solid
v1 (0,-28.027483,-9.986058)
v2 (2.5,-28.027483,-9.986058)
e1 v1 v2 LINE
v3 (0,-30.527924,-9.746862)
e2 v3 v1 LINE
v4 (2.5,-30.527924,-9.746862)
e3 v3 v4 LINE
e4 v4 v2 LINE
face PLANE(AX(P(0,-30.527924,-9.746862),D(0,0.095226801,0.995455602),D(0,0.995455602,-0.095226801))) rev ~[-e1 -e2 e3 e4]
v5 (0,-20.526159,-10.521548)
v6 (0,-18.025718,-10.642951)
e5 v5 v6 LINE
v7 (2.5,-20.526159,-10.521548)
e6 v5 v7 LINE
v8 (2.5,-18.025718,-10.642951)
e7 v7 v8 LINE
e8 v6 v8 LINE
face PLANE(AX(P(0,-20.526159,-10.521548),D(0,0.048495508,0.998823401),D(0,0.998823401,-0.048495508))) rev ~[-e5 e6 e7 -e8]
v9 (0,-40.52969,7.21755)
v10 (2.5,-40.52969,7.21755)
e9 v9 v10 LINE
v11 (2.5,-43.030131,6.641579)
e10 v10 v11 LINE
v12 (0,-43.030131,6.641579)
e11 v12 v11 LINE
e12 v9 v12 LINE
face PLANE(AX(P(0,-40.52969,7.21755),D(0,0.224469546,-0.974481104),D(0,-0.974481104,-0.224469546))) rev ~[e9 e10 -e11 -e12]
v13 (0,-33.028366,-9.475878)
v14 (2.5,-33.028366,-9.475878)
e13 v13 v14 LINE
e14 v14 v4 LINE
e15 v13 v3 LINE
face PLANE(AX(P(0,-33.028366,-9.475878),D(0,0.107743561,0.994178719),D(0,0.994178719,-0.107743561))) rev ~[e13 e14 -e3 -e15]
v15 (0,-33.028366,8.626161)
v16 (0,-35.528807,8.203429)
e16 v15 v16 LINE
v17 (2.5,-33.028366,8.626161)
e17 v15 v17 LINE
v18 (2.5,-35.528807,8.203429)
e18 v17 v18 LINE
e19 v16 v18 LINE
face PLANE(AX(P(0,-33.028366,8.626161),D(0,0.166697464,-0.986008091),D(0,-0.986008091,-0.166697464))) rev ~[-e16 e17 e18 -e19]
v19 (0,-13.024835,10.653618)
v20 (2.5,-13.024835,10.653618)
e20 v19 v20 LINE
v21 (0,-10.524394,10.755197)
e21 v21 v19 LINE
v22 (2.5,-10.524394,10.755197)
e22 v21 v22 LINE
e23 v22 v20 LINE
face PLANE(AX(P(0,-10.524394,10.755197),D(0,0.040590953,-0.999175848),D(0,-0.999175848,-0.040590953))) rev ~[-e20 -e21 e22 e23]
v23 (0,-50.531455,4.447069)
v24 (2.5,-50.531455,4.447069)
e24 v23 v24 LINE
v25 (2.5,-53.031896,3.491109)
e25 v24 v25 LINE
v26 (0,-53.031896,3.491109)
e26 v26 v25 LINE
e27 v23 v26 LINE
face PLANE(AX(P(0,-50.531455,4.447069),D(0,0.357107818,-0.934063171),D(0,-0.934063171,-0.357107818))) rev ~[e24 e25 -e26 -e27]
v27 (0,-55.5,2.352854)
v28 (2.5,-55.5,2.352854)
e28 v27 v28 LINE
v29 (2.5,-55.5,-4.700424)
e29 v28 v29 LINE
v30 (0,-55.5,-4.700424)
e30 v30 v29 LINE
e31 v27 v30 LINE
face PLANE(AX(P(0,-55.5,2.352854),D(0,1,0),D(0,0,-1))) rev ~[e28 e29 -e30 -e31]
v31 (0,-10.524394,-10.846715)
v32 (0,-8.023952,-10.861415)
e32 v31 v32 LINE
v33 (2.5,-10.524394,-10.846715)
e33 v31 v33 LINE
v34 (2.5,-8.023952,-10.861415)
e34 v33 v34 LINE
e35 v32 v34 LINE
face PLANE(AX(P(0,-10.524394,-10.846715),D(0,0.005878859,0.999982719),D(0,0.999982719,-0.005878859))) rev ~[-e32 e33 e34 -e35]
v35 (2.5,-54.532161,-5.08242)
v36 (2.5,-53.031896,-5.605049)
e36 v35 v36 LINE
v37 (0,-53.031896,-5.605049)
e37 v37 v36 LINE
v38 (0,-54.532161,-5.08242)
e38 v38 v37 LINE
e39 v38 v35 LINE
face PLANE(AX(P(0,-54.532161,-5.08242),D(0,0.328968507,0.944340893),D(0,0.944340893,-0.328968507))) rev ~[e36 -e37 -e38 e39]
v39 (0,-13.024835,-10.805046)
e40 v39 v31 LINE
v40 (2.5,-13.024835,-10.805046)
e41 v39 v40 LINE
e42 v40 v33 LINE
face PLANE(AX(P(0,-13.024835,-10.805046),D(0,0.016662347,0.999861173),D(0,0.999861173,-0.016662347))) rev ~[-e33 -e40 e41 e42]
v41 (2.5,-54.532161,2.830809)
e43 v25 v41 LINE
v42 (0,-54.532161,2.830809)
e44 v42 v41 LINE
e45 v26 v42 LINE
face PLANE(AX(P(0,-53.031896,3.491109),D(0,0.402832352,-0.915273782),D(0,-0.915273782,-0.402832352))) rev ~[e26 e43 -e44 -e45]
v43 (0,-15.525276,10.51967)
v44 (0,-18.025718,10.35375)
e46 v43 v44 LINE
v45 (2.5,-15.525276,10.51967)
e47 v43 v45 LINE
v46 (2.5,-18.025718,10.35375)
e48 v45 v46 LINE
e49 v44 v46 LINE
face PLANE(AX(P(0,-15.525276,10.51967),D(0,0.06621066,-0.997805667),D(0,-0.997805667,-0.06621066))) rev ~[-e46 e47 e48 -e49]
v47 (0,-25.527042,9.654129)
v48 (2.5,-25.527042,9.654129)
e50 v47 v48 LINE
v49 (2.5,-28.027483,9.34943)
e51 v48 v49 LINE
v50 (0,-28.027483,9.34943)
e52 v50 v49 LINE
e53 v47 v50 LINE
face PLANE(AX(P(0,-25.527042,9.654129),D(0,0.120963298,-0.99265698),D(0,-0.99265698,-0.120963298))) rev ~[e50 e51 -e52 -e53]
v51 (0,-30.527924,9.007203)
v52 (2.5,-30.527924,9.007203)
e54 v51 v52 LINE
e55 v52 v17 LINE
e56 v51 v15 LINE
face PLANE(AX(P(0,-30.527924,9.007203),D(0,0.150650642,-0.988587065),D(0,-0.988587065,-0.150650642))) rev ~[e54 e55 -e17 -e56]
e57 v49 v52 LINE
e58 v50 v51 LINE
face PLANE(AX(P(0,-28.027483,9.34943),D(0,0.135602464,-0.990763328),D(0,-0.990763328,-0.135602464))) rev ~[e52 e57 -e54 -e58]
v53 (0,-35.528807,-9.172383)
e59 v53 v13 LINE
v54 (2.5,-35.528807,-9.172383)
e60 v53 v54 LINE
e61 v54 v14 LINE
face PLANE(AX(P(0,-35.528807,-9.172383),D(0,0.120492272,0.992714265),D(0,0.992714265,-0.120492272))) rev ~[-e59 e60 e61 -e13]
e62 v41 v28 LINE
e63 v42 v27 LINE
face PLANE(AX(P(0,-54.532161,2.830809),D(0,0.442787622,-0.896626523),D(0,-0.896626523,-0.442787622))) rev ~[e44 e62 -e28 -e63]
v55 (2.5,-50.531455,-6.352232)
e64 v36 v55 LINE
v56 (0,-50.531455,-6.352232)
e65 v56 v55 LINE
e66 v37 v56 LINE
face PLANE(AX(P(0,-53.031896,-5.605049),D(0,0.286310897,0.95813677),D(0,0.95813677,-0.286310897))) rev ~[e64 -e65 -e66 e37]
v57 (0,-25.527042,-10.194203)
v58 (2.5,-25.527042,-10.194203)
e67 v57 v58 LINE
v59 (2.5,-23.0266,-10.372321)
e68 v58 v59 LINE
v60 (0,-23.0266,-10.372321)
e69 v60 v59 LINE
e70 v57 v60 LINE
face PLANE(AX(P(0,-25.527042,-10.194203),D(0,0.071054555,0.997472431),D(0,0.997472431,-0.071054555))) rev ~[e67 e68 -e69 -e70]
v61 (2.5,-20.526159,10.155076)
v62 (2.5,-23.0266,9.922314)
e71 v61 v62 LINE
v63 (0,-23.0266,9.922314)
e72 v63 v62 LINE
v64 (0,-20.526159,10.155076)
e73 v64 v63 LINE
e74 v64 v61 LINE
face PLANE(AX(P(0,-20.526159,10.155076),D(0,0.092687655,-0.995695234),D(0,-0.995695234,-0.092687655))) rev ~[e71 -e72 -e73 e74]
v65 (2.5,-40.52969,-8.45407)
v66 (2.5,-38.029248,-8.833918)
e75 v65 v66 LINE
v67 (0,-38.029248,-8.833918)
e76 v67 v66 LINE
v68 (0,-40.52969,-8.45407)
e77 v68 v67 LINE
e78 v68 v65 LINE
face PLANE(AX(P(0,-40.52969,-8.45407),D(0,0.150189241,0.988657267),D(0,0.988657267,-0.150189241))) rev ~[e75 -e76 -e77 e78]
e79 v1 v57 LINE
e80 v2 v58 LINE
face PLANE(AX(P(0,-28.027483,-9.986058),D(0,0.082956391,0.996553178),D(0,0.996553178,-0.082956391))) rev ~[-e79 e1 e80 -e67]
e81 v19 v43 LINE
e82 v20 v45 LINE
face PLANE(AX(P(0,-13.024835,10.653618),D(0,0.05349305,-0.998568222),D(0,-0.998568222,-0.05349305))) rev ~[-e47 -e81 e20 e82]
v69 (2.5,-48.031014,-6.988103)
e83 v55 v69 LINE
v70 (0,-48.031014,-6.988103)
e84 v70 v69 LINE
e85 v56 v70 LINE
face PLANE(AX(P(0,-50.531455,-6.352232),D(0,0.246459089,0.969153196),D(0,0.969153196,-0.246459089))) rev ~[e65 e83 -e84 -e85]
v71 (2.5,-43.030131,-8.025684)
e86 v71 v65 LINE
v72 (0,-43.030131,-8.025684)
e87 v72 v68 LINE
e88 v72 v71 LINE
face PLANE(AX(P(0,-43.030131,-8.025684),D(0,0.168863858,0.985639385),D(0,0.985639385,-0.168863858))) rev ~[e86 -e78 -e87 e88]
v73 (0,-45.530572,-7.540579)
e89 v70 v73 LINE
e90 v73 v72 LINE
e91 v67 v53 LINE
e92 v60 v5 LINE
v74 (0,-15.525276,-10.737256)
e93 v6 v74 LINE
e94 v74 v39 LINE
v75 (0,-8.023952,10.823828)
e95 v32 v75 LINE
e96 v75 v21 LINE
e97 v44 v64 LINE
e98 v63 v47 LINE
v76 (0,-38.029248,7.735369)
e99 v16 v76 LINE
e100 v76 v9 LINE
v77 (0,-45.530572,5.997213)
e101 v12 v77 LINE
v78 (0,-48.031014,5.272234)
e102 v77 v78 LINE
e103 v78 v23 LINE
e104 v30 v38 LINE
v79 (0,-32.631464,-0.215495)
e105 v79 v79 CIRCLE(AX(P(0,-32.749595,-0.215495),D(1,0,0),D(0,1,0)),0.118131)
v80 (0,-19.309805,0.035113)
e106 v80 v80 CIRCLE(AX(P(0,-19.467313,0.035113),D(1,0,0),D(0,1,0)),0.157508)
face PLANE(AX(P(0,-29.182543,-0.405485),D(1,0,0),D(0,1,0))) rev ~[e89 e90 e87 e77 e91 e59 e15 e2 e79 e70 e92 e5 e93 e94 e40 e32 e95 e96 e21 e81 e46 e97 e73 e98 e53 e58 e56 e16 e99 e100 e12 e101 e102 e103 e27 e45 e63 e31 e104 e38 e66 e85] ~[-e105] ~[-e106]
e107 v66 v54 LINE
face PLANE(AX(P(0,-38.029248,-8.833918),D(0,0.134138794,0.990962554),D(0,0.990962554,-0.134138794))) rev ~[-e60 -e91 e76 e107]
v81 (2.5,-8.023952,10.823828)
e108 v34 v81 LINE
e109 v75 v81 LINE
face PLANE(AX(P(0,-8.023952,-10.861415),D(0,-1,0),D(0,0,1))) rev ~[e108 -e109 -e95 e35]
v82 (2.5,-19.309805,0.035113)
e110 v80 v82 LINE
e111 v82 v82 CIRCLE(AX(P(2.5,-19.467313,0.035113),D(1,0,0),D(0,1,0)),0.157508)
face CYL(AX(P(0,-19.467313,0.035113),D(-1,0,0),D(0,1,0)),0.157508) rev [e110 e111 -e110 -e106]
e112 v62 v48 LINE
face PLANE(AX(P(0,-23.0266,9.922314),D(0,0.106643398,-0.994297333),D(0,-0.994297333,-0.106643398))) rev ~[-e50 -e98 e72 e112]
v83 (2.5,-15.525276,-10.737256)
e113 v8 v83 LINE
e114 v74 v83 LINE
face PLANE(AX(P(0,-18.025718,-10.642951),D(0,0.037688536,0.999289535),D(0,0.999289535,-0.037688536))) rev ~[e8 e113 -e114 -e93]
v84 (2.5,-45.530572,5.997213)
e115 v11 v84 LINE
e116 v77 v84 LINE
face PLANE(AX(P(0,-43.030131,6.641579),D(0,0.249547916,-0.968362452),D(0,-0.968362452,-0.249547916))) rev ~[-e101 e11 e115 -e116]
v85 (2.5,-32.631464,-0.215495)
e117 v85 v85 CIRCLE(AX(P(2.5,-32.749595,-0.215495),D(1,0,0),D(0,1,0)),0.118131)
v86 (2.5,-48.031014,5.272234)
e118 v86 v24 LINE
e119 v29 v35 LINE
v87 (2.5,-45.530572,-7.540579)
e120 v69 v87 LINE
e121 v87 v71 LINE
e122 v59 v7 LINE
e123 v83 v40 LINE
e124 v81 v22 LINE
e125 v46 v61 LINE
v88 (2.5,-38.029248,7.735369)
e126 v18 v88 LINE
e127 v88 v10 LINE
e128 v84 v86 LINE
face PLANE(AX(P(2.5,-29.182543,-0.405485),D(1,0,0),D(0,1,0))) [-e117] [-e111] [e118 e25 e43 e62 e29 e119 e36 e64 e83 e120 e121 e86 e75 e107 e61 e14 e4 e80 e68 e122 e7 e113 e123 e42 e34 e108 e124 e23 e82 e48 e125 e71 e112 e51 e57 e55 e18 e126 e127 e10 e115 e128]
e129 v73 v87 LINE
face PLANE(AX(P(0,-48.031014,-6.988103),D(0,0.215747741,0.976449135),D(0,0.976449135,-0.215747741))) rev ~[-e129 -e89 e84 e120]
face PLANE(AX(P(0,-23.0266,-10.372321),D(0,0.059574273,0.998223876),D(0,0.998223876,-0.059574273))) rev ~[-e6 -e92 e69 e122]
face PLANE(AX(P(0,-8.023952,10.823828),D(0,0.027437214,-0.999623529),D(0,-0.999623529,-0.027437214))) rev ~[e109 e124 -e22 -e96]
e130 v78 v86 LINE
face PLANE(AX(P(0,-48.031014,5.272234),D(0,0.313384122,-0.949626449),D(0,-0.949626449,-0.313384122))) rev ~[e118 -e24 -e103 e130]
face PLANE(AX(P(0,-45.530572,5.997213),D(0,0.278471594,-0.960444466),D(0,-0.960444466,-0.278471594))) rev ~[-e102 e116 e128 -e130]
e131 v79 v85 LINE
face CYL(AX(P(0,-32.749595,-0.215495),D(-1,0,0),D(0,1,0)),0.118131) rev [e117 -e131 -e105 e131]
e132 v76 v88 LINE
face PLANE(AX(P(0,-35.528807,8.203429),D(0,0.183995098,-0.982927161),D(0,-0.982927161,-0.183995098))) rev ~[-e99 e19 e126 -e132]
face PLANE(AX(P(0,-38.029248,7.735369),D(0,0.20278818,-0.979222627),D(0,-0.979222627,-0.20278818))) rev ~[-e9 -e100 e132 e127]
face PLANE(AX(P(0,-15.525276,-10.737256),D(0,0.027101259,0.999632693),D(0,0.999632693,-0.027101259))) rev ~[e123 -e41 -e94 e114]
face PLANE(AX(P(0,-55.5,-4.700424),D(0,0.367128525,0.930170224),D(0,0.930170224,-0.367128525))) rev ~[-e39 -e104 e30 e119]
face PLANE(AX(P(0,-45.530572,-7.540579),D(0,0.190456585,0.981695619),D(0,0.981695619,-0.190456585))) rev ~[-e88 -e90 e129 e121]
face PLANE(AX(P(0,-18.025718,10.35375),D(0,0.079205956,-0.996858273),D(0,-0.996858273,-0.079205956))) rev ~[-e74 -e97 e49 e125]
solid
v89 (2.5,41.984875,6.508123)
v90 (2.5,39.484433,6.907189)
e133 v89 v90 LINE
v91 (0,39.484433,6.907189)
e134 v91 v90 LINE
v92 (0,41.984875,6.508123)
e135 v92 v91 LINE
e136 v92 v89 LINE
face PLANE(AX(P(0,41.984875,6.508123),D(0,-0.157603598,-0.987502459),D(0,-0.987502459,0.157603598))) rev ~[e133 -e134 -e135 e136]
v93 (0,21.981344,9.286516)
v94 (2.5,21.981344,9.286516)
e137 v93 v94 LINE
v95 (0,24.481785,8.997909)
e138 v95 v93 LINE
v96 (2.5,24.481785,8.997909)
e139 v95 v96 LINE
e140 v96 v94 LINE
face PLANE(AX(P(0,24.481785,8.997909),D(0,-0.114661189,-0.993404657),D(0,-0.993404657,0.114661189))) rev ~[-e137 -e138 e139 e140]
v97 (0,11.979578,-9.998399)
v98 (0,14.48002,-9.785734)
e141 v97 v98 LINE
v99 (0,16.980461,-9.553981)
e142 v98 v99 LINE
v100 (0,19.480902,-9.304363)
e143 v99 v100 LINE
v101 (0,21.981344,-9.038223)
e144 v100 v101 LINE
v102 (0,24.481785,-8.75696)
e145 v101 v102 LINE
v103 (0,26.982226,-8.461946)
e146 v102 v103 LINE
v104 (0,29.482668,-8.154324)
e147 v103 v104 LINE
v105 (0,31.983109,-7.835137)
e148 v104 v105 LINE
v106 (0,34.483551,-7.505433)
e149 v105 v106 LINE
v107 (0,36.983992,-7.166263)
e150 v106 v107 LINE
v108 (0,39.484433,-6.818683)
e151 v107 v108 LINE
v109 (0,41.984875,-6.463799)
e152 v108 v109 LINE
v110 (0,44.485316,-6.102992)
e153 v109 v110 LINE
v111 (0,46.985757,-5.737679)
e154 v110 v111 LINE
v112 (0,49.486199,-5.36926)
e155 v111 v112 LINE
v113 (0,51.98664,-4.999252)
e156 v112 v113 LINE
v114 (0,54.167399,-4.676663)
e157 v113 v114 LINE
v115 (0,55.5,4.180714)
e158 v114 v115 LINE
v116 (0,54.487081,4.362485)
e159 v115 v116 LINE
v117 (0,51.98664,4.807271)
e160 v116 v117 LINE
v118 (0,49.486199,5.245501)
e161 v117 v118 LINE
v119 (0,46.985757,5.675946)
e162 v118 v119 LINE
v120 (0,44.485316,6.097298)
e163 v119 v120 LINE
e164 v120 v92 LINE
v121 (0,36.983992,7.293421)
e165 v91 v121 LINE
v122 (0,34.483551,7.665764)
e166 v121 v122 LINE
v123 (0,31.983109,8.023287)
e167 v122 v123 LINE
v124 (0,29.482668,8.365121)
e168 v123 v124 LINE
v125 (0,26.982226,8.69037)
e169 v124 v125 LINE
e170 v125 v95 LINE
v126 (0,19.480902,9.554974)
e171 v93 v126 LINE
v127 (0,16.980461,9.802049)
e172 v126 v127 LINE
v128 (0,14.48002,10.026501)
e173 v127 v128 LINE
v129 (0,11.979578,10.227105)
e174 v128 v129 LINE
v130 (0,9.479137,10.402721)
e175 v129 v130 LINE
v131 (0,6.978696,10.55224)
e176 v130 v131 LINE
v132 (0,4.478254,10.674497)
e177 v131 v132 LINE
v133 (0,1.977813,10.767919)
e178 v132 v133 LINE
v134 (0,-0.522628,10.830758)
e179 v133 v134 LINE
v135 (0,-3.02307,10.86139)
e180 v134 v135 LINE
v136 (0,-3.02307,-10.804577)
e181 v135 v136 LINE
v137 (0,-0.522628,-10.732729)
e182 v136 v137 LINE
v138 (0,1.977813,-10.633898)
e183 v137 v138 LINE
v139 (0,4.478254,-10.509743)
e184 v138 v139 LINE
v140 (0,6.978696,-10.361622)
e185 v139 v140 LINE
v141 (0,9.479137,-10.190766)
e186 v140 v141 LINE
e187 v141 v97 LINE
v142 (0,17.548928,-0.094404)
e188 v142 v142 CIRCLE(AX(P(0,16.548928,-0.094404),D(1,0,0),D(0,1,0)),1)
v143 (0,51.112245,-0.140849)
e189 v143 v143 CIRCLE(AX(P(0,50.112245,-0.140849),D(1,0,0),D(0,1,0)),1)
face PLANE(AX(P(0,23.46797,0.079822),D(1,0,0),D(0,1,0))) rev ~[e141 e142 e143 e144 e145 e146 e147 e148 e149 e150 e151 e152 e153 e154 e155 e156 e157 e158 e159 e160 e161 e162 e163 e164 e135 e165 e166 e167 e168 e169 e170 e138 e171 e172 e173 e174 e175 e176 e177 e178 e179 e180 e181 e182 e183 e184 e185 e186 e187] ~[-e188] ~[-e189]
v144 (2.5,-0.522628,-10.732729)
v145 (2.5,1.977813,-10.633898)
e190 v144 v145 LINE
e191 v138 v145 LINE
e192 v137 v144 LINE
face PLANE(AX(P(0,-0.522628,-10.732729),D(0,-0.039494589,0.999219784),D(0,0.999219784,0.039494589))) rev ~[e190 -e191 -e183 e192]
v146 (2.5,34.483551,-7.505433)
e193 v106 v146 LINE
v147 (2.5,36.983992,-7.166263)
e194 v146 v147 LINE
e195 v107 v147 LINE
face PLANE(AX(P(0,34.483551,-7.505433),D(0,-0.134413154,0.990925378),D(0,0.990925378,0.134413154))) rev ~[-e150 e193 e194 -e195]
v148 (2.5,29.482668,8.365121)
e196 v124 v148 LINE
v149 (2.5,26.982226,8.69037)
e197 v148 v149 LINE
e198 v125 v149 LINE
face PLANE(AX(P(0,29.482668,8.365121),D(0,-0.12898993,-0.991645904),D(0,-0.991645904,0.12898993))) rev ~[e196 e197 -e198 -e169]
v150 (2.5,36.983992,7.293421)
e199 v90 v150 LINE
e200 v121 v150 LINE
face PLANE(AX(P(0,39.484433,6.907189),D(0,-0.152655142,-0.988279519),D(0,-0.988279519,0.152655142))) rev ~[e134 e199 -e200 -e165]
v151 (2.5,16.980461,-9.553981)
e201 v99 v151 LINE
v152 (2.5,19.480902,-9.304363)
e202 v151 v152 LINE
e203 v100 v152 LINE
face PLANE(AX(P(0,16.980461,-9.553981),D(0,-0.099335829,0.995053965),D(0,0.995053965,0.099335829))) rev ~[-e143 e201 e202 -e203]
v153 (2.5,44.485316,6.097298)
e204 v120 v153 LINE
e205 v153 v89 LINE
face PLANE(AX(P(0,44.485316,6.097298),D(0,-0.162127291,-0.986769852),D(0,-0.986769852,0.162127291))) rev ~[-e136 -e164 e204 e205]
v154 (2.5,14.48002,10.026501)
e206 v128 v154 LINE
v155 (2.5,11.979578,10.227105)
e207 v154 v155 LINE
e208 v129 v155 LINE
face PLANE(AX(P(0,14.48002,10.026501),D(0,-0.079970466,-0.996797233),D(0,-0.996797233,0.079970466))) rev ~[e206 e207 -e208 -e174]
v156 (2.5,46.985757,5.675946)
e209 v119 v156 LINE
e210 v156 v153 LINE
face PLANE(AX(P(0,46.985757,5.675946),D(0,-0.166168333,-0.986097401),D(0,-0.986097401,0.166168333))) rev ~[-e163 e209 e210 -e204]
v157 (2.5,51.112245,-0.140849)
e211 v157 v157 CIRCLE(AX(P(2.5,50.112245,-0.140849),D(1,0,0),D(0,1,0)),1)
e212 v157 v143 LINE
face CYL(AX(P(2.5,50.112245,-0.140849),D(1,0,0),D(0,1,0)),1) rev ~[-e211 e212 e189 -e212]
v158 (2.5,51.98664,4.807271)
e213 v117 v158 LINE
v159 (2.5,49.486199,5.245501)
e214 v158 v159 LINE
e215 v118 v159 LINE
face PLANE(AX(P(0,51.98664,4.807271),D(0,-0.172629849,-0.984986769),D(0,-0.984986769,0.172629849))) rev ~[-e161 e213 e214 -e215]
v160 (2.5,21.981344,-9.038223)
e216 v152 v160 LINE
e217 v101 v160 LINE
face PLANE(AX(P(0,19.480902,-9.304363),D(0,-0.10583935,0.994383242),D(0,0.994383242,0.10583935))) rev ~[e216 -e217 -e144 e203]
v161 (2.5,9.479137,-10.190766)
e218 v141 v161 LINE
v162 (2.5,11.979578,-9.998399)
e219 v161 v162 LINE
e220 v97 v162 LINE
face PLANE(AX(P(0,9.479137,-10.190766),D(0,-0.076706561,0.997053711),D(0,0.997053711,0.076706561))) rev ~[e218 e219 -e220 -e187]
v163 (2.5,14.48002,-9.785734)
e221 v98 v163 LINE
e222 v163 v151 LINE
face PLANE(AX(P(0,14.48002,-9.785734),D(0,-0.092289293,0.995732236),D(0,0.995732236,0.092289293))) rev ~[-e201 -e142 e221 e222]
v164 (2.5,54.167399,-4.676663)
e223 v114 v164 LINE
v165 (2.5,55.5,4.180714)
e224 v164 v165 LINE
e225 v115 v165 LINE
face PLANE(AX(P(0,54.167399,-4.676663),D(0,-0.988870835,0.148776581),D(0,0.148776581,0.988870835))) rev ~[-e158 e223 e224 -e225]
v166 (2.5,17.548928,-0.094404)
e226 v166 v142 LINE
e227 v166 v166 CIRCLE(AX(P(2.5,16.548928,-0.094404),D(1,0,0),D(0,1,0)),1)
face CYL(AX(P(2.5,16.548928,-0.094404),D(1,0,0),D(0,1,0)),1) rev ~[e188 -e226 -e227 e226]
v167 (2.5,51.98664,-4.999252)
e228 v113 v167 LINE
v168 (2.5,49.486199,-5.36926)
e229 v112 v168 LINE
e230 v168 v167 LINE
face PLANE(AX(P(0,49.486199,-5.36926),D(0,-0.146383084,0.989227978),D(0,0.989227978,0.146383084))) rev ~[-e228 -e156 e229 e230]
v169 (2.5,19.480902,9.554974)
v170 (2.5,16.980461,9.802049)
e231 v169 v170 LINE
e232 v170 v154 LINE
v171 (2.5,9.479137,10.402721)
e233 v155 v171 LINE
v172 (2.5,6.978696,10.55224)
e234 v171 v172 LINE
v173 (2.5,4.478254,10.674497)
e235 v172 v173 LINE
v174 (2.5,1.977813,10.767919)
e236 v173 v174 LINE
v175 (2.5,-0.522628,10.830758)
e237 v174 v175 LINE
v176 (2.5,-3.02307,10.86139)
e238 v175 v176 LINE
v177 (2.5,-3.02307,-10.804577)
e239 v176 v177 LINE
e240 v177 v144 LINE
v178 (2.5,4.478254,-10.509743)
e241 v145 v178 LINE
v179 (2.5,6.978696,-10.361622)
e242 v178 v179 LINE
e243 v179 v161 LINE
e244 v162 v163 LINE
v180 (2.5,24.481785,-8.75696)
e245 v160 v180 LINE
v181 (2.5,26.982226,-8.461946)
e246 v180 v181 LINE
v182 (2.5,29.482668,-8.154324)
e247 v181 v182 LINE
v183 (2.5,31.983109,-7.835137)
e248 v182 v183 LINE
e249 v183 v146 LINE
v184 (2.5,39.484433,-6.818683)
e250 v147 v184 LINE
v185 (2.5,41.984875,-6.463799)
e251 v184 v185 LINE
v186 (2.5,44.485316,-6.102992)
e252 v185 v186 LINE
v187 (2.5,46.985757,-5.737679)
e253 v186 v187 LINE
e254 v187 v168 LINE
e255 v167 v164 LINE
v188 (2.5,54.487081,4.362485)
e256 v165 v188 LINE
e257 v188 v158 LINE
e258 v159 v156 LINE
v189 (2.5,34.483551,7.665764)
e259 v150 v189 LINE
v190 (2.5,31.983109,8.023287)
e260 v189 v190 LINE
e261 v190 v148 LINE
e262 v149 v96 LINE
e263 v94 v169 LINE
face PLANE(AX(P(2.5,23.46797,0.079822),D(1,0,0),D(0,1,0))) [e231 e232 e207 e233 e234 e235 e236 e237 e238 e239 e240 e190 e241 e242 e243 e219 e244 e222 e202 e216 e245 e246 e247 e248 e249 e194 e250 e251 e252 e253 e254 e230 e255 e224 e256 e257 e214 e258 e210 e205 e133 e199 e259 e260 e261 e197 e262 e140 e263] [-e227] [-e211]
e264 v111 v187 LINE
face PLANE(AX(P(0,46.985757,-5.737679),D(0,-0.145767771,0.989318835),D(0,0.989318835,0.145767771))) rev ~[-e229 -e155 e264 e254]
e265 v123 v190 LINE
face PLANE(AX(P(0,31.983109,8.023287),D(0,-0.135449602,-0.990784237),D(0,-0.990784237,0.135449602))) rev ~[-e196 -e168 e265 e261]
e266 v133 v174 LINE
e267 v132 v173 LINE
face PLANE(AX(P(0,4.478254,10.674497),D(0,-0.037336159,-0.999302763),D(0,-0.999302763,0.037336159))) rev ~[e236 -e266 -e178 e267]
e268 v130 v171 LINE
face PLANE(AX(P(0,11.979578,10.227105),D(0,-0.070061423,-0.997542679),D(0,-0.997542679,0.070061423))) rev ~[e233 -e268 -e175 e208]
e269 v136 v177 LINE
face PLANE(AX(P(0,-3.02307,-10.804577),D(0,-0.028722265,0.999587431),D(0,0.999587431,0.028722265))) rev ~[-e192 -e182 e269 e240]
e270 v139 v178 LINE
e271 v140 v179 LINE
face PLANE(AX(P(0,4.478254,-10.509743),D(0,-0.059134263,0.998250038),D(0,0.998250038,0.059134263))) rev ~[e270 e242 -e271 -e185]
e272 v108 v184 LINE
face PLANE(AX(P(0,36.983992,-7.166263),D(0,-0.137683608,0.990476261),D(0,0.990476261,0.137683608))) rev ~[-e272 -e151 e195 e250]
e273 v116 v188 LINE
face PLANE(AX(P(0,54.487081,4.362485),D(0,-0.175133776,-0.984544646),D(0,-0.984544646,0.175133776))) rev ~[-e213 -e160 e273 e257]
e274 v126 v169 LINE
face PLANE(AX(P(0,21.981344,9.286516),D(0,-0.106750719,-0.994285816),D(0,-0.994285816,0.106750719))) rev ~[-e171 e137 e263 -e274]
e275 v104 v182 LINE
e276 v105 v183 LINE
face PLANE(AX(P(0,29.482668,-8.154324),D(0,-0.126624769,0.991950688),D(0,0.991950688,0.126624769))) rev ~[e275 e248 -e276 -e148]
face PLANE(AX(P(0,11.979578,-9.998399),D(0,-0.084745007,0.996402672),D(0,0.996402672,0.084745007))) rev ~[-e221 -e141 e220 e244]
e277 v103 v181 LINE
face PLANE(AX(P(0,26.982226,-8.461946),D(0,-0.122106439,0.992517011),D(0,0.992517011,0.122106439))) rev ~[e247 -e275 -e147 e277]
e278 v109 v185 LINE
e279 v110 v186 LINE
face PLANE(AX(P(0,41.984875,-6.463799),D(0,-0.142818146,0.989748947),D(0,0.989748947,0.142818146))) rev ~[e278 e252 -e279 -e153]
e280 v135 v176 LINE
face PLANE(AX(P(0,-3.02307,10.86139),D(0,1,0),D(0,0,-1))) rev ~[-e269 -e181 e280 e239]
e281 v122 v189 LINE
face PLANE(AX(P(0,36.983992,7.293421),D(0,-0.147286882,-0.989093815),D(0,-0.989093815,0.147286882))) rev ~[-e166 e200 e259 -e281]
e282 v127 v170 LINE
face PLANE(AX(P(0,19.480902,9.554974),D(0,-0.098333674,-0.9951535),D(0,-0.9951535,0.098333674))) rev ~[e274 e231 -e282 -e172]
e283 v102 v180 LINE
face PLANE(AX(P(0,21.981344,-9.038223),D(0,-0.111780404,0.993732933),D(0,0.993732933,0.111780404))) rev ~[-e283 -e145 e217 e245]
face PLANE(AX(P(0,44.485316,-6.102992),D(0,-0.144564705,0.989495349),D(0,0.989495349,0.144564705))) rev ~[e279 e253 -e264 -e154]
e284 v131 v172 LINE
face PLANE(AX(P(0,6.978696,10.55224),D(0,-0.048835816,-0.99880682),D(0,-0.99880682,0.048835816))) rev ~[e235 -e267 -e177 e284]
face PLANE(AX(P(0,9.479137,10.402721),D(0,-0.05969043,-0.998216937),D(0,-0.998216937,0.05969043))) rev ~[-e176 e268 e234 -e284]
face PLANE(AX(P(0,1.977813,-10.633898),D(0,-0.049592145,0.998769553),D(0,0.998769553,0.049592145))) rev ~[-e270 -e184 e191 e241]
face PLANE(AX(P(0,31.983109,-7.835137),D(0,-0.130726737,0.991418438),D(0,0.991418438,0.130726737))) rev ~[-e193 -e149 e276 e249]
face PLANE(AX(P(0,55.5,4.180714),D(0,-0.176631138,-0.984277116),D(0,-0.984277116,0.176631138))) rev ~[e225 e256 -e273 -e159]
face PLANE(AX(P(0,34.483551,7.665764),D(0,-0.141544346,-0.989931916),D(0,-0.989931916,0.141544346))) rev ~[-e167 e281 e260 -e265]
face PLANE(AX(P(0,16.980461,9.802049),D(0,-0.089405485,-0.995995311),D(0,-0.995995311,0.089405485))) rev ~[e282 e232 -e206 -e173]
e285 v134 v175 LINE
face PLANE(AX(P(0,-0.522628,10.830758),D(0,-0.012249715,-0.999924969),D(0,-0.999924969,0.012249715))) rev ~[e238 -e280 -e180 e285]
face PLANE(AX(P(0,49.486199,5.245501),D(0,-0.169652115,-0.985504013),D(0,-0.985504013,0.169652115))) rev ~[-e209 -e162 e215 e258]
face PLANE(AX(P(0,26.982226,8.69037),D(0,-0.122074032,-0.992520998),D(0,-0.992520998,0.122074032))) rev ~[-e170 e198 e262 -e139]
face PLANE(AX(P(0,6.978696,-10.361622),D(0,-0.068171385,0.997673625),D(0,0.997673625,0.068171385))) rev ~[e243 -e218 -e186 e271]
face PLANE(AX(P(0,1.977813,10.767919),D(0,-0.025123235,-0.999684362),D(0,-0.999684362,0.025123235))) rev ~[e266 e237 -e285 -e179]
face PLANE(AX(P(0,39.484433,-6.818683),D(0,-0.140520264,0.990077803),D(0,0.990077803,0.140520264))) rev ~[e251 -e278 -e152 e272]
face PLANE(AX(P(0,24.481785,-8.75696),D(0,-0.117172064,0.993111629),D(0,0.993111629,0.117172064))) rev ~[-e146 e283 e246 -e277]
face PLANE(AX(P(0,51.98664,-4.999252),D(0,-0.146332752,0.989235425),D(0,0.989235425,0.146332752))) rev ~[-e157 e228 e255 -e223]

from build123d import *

# Parameters (mm, degrees)
F0_R     = 0.118131
F0_R_2   = 0.157508
F0_R_3   = 0.059065
F1_DEPTH = 2.5
F2_R     = 1
F3_DEPTH = 2.501


with BuildPart() as f1:
    # F0 (on Right) → F1 (new body)
    with BuildSketch(Plane.YZ):
        Polygon((-54.532161, 2.830809), (-55.5, 2.352854), (-55.5, -4.700424), (-54.532161, -5.08242), (-53.031896, -5.605049), (-50.531455, -6.352232), (-48.031014, -6.988103), (-45.530572, -7.540579), (-43.030131, -8.025684), (-40.52969, -8.45407), (-38.029248, -8.833918), (-35.528807, -9.172383), (-33.028366, -9.475878), (-30.527924, -9.746862), (-28.027483, -9.986058), (-25.527042, -10.194203), (-23.0266, -10.372321), (-20.526159, -10.521548), (-18.025718, -10.642951), (-15.525276, -10.737256), (-13.024835, -10.805046), (-10.524394, -10.846715), (-8.023952, -10.861415), (-8.023952, 10.823828), (-10.524394, 10.755197), (-13.024835, 10.653618), (-15.525276, 10.51967), (-18.025718, 10.35375), (-20.526159, 10.155076), (-23.0266, 9.922314), (-25.527042, 9.654129), (-28.027483, 9.34943), (-30.527924, 9.007203), (-33.028366, 8.626161), (-35.528807, 8.203429), (-38.029248, 7.735369), (-40.52969, 7.21755), (-43.030131, 6.641579), (-45.530572, 5.997213), (-48.031014, 5.272234), (-50.531455, 4.447069), (-53.031896, 3.491109), align=None)
        with Locations((-32.749595, -0.215495)):
            Circle(F0_R, mode=Mode.SUBTRACT)
        with Locations((-19.467313, 0.035113)):
            Circle(F0_R_2, mode=Mode.SUBTRACT)
        Polygon((54.167399, -4.676663), (55.5, 4.180714), (54.487081, 4.362485), (51.98664, 4.807271), (49.486199, 5.245501), (46.985757, 5.675946), (44.485316, 6.097298), (41.984875, 6.508123), (39.484433, 6.907189), (36.983992, 7.293421), (34.483551, 7.665764), (31.983109, 8.023287), (29.482668, 8.365121), (26.982226, 8.69037), (24.481785, 8.997909), (21.981344, 9.286516), (19.480902, 9.554974), (16.980461, 9.802049), (14.48002, 10.026501), (11.979578, 10.227105), (9.479137, 10.402721), (6.978696, 10.55224), (4.478254, 10.674497), (1.977813, 10.767919), (-0.522628, 10.830758), (-3.02307, 10.86139), (-3.02307, -10.804577), (-0.522628, -10.732729), (1.977813, -10.633898), (4.478254, -10.509743), (6.978696, -10.361622), (9.479137, -10.190766), (11.979578, -9.998399), (14.48002, -9.785734), (16.980461, -9.553981), (19.480902, -9.304363), (21.981344, -9.038223), (24.481785, -8.75696), (26.982226, -8.461946), (29.482668, -8.154324), (31.983109, -7.835137), (34.483551, -7.505433), (36.983992, -7.166263), (39.484433, -6.818683), (41.984875, -6.463799), (44.485316, -6.102992), (46.985757, -5.737679), (49.486199, -5.36926), (51.98664, -4.999252), align=None)
        with Locations((16.548928, -0.094404)):
            Circle(F0_R_3, mode=Mode.SUBTRACT)
        with Locations((50.112245, -0.140849)):
            Circle(F0_R_3, mode=Mode.SUBTRACT)
    extrude(amount=F1_DEPTH)

    # F2 (on face) → F3 (cut, through all)
    with BuildSketch(Plane.YZ.offset(2.5)):
        with Locations((16.548928, -0.094404)):
            Circle(F2_R)
        with Locations((50.112245, -0.140849)):
            Circle(F2_R)
    extrude(amount=-F3_DEPTH, mode=Mode.SUBTRACT)


solid = f1.part
